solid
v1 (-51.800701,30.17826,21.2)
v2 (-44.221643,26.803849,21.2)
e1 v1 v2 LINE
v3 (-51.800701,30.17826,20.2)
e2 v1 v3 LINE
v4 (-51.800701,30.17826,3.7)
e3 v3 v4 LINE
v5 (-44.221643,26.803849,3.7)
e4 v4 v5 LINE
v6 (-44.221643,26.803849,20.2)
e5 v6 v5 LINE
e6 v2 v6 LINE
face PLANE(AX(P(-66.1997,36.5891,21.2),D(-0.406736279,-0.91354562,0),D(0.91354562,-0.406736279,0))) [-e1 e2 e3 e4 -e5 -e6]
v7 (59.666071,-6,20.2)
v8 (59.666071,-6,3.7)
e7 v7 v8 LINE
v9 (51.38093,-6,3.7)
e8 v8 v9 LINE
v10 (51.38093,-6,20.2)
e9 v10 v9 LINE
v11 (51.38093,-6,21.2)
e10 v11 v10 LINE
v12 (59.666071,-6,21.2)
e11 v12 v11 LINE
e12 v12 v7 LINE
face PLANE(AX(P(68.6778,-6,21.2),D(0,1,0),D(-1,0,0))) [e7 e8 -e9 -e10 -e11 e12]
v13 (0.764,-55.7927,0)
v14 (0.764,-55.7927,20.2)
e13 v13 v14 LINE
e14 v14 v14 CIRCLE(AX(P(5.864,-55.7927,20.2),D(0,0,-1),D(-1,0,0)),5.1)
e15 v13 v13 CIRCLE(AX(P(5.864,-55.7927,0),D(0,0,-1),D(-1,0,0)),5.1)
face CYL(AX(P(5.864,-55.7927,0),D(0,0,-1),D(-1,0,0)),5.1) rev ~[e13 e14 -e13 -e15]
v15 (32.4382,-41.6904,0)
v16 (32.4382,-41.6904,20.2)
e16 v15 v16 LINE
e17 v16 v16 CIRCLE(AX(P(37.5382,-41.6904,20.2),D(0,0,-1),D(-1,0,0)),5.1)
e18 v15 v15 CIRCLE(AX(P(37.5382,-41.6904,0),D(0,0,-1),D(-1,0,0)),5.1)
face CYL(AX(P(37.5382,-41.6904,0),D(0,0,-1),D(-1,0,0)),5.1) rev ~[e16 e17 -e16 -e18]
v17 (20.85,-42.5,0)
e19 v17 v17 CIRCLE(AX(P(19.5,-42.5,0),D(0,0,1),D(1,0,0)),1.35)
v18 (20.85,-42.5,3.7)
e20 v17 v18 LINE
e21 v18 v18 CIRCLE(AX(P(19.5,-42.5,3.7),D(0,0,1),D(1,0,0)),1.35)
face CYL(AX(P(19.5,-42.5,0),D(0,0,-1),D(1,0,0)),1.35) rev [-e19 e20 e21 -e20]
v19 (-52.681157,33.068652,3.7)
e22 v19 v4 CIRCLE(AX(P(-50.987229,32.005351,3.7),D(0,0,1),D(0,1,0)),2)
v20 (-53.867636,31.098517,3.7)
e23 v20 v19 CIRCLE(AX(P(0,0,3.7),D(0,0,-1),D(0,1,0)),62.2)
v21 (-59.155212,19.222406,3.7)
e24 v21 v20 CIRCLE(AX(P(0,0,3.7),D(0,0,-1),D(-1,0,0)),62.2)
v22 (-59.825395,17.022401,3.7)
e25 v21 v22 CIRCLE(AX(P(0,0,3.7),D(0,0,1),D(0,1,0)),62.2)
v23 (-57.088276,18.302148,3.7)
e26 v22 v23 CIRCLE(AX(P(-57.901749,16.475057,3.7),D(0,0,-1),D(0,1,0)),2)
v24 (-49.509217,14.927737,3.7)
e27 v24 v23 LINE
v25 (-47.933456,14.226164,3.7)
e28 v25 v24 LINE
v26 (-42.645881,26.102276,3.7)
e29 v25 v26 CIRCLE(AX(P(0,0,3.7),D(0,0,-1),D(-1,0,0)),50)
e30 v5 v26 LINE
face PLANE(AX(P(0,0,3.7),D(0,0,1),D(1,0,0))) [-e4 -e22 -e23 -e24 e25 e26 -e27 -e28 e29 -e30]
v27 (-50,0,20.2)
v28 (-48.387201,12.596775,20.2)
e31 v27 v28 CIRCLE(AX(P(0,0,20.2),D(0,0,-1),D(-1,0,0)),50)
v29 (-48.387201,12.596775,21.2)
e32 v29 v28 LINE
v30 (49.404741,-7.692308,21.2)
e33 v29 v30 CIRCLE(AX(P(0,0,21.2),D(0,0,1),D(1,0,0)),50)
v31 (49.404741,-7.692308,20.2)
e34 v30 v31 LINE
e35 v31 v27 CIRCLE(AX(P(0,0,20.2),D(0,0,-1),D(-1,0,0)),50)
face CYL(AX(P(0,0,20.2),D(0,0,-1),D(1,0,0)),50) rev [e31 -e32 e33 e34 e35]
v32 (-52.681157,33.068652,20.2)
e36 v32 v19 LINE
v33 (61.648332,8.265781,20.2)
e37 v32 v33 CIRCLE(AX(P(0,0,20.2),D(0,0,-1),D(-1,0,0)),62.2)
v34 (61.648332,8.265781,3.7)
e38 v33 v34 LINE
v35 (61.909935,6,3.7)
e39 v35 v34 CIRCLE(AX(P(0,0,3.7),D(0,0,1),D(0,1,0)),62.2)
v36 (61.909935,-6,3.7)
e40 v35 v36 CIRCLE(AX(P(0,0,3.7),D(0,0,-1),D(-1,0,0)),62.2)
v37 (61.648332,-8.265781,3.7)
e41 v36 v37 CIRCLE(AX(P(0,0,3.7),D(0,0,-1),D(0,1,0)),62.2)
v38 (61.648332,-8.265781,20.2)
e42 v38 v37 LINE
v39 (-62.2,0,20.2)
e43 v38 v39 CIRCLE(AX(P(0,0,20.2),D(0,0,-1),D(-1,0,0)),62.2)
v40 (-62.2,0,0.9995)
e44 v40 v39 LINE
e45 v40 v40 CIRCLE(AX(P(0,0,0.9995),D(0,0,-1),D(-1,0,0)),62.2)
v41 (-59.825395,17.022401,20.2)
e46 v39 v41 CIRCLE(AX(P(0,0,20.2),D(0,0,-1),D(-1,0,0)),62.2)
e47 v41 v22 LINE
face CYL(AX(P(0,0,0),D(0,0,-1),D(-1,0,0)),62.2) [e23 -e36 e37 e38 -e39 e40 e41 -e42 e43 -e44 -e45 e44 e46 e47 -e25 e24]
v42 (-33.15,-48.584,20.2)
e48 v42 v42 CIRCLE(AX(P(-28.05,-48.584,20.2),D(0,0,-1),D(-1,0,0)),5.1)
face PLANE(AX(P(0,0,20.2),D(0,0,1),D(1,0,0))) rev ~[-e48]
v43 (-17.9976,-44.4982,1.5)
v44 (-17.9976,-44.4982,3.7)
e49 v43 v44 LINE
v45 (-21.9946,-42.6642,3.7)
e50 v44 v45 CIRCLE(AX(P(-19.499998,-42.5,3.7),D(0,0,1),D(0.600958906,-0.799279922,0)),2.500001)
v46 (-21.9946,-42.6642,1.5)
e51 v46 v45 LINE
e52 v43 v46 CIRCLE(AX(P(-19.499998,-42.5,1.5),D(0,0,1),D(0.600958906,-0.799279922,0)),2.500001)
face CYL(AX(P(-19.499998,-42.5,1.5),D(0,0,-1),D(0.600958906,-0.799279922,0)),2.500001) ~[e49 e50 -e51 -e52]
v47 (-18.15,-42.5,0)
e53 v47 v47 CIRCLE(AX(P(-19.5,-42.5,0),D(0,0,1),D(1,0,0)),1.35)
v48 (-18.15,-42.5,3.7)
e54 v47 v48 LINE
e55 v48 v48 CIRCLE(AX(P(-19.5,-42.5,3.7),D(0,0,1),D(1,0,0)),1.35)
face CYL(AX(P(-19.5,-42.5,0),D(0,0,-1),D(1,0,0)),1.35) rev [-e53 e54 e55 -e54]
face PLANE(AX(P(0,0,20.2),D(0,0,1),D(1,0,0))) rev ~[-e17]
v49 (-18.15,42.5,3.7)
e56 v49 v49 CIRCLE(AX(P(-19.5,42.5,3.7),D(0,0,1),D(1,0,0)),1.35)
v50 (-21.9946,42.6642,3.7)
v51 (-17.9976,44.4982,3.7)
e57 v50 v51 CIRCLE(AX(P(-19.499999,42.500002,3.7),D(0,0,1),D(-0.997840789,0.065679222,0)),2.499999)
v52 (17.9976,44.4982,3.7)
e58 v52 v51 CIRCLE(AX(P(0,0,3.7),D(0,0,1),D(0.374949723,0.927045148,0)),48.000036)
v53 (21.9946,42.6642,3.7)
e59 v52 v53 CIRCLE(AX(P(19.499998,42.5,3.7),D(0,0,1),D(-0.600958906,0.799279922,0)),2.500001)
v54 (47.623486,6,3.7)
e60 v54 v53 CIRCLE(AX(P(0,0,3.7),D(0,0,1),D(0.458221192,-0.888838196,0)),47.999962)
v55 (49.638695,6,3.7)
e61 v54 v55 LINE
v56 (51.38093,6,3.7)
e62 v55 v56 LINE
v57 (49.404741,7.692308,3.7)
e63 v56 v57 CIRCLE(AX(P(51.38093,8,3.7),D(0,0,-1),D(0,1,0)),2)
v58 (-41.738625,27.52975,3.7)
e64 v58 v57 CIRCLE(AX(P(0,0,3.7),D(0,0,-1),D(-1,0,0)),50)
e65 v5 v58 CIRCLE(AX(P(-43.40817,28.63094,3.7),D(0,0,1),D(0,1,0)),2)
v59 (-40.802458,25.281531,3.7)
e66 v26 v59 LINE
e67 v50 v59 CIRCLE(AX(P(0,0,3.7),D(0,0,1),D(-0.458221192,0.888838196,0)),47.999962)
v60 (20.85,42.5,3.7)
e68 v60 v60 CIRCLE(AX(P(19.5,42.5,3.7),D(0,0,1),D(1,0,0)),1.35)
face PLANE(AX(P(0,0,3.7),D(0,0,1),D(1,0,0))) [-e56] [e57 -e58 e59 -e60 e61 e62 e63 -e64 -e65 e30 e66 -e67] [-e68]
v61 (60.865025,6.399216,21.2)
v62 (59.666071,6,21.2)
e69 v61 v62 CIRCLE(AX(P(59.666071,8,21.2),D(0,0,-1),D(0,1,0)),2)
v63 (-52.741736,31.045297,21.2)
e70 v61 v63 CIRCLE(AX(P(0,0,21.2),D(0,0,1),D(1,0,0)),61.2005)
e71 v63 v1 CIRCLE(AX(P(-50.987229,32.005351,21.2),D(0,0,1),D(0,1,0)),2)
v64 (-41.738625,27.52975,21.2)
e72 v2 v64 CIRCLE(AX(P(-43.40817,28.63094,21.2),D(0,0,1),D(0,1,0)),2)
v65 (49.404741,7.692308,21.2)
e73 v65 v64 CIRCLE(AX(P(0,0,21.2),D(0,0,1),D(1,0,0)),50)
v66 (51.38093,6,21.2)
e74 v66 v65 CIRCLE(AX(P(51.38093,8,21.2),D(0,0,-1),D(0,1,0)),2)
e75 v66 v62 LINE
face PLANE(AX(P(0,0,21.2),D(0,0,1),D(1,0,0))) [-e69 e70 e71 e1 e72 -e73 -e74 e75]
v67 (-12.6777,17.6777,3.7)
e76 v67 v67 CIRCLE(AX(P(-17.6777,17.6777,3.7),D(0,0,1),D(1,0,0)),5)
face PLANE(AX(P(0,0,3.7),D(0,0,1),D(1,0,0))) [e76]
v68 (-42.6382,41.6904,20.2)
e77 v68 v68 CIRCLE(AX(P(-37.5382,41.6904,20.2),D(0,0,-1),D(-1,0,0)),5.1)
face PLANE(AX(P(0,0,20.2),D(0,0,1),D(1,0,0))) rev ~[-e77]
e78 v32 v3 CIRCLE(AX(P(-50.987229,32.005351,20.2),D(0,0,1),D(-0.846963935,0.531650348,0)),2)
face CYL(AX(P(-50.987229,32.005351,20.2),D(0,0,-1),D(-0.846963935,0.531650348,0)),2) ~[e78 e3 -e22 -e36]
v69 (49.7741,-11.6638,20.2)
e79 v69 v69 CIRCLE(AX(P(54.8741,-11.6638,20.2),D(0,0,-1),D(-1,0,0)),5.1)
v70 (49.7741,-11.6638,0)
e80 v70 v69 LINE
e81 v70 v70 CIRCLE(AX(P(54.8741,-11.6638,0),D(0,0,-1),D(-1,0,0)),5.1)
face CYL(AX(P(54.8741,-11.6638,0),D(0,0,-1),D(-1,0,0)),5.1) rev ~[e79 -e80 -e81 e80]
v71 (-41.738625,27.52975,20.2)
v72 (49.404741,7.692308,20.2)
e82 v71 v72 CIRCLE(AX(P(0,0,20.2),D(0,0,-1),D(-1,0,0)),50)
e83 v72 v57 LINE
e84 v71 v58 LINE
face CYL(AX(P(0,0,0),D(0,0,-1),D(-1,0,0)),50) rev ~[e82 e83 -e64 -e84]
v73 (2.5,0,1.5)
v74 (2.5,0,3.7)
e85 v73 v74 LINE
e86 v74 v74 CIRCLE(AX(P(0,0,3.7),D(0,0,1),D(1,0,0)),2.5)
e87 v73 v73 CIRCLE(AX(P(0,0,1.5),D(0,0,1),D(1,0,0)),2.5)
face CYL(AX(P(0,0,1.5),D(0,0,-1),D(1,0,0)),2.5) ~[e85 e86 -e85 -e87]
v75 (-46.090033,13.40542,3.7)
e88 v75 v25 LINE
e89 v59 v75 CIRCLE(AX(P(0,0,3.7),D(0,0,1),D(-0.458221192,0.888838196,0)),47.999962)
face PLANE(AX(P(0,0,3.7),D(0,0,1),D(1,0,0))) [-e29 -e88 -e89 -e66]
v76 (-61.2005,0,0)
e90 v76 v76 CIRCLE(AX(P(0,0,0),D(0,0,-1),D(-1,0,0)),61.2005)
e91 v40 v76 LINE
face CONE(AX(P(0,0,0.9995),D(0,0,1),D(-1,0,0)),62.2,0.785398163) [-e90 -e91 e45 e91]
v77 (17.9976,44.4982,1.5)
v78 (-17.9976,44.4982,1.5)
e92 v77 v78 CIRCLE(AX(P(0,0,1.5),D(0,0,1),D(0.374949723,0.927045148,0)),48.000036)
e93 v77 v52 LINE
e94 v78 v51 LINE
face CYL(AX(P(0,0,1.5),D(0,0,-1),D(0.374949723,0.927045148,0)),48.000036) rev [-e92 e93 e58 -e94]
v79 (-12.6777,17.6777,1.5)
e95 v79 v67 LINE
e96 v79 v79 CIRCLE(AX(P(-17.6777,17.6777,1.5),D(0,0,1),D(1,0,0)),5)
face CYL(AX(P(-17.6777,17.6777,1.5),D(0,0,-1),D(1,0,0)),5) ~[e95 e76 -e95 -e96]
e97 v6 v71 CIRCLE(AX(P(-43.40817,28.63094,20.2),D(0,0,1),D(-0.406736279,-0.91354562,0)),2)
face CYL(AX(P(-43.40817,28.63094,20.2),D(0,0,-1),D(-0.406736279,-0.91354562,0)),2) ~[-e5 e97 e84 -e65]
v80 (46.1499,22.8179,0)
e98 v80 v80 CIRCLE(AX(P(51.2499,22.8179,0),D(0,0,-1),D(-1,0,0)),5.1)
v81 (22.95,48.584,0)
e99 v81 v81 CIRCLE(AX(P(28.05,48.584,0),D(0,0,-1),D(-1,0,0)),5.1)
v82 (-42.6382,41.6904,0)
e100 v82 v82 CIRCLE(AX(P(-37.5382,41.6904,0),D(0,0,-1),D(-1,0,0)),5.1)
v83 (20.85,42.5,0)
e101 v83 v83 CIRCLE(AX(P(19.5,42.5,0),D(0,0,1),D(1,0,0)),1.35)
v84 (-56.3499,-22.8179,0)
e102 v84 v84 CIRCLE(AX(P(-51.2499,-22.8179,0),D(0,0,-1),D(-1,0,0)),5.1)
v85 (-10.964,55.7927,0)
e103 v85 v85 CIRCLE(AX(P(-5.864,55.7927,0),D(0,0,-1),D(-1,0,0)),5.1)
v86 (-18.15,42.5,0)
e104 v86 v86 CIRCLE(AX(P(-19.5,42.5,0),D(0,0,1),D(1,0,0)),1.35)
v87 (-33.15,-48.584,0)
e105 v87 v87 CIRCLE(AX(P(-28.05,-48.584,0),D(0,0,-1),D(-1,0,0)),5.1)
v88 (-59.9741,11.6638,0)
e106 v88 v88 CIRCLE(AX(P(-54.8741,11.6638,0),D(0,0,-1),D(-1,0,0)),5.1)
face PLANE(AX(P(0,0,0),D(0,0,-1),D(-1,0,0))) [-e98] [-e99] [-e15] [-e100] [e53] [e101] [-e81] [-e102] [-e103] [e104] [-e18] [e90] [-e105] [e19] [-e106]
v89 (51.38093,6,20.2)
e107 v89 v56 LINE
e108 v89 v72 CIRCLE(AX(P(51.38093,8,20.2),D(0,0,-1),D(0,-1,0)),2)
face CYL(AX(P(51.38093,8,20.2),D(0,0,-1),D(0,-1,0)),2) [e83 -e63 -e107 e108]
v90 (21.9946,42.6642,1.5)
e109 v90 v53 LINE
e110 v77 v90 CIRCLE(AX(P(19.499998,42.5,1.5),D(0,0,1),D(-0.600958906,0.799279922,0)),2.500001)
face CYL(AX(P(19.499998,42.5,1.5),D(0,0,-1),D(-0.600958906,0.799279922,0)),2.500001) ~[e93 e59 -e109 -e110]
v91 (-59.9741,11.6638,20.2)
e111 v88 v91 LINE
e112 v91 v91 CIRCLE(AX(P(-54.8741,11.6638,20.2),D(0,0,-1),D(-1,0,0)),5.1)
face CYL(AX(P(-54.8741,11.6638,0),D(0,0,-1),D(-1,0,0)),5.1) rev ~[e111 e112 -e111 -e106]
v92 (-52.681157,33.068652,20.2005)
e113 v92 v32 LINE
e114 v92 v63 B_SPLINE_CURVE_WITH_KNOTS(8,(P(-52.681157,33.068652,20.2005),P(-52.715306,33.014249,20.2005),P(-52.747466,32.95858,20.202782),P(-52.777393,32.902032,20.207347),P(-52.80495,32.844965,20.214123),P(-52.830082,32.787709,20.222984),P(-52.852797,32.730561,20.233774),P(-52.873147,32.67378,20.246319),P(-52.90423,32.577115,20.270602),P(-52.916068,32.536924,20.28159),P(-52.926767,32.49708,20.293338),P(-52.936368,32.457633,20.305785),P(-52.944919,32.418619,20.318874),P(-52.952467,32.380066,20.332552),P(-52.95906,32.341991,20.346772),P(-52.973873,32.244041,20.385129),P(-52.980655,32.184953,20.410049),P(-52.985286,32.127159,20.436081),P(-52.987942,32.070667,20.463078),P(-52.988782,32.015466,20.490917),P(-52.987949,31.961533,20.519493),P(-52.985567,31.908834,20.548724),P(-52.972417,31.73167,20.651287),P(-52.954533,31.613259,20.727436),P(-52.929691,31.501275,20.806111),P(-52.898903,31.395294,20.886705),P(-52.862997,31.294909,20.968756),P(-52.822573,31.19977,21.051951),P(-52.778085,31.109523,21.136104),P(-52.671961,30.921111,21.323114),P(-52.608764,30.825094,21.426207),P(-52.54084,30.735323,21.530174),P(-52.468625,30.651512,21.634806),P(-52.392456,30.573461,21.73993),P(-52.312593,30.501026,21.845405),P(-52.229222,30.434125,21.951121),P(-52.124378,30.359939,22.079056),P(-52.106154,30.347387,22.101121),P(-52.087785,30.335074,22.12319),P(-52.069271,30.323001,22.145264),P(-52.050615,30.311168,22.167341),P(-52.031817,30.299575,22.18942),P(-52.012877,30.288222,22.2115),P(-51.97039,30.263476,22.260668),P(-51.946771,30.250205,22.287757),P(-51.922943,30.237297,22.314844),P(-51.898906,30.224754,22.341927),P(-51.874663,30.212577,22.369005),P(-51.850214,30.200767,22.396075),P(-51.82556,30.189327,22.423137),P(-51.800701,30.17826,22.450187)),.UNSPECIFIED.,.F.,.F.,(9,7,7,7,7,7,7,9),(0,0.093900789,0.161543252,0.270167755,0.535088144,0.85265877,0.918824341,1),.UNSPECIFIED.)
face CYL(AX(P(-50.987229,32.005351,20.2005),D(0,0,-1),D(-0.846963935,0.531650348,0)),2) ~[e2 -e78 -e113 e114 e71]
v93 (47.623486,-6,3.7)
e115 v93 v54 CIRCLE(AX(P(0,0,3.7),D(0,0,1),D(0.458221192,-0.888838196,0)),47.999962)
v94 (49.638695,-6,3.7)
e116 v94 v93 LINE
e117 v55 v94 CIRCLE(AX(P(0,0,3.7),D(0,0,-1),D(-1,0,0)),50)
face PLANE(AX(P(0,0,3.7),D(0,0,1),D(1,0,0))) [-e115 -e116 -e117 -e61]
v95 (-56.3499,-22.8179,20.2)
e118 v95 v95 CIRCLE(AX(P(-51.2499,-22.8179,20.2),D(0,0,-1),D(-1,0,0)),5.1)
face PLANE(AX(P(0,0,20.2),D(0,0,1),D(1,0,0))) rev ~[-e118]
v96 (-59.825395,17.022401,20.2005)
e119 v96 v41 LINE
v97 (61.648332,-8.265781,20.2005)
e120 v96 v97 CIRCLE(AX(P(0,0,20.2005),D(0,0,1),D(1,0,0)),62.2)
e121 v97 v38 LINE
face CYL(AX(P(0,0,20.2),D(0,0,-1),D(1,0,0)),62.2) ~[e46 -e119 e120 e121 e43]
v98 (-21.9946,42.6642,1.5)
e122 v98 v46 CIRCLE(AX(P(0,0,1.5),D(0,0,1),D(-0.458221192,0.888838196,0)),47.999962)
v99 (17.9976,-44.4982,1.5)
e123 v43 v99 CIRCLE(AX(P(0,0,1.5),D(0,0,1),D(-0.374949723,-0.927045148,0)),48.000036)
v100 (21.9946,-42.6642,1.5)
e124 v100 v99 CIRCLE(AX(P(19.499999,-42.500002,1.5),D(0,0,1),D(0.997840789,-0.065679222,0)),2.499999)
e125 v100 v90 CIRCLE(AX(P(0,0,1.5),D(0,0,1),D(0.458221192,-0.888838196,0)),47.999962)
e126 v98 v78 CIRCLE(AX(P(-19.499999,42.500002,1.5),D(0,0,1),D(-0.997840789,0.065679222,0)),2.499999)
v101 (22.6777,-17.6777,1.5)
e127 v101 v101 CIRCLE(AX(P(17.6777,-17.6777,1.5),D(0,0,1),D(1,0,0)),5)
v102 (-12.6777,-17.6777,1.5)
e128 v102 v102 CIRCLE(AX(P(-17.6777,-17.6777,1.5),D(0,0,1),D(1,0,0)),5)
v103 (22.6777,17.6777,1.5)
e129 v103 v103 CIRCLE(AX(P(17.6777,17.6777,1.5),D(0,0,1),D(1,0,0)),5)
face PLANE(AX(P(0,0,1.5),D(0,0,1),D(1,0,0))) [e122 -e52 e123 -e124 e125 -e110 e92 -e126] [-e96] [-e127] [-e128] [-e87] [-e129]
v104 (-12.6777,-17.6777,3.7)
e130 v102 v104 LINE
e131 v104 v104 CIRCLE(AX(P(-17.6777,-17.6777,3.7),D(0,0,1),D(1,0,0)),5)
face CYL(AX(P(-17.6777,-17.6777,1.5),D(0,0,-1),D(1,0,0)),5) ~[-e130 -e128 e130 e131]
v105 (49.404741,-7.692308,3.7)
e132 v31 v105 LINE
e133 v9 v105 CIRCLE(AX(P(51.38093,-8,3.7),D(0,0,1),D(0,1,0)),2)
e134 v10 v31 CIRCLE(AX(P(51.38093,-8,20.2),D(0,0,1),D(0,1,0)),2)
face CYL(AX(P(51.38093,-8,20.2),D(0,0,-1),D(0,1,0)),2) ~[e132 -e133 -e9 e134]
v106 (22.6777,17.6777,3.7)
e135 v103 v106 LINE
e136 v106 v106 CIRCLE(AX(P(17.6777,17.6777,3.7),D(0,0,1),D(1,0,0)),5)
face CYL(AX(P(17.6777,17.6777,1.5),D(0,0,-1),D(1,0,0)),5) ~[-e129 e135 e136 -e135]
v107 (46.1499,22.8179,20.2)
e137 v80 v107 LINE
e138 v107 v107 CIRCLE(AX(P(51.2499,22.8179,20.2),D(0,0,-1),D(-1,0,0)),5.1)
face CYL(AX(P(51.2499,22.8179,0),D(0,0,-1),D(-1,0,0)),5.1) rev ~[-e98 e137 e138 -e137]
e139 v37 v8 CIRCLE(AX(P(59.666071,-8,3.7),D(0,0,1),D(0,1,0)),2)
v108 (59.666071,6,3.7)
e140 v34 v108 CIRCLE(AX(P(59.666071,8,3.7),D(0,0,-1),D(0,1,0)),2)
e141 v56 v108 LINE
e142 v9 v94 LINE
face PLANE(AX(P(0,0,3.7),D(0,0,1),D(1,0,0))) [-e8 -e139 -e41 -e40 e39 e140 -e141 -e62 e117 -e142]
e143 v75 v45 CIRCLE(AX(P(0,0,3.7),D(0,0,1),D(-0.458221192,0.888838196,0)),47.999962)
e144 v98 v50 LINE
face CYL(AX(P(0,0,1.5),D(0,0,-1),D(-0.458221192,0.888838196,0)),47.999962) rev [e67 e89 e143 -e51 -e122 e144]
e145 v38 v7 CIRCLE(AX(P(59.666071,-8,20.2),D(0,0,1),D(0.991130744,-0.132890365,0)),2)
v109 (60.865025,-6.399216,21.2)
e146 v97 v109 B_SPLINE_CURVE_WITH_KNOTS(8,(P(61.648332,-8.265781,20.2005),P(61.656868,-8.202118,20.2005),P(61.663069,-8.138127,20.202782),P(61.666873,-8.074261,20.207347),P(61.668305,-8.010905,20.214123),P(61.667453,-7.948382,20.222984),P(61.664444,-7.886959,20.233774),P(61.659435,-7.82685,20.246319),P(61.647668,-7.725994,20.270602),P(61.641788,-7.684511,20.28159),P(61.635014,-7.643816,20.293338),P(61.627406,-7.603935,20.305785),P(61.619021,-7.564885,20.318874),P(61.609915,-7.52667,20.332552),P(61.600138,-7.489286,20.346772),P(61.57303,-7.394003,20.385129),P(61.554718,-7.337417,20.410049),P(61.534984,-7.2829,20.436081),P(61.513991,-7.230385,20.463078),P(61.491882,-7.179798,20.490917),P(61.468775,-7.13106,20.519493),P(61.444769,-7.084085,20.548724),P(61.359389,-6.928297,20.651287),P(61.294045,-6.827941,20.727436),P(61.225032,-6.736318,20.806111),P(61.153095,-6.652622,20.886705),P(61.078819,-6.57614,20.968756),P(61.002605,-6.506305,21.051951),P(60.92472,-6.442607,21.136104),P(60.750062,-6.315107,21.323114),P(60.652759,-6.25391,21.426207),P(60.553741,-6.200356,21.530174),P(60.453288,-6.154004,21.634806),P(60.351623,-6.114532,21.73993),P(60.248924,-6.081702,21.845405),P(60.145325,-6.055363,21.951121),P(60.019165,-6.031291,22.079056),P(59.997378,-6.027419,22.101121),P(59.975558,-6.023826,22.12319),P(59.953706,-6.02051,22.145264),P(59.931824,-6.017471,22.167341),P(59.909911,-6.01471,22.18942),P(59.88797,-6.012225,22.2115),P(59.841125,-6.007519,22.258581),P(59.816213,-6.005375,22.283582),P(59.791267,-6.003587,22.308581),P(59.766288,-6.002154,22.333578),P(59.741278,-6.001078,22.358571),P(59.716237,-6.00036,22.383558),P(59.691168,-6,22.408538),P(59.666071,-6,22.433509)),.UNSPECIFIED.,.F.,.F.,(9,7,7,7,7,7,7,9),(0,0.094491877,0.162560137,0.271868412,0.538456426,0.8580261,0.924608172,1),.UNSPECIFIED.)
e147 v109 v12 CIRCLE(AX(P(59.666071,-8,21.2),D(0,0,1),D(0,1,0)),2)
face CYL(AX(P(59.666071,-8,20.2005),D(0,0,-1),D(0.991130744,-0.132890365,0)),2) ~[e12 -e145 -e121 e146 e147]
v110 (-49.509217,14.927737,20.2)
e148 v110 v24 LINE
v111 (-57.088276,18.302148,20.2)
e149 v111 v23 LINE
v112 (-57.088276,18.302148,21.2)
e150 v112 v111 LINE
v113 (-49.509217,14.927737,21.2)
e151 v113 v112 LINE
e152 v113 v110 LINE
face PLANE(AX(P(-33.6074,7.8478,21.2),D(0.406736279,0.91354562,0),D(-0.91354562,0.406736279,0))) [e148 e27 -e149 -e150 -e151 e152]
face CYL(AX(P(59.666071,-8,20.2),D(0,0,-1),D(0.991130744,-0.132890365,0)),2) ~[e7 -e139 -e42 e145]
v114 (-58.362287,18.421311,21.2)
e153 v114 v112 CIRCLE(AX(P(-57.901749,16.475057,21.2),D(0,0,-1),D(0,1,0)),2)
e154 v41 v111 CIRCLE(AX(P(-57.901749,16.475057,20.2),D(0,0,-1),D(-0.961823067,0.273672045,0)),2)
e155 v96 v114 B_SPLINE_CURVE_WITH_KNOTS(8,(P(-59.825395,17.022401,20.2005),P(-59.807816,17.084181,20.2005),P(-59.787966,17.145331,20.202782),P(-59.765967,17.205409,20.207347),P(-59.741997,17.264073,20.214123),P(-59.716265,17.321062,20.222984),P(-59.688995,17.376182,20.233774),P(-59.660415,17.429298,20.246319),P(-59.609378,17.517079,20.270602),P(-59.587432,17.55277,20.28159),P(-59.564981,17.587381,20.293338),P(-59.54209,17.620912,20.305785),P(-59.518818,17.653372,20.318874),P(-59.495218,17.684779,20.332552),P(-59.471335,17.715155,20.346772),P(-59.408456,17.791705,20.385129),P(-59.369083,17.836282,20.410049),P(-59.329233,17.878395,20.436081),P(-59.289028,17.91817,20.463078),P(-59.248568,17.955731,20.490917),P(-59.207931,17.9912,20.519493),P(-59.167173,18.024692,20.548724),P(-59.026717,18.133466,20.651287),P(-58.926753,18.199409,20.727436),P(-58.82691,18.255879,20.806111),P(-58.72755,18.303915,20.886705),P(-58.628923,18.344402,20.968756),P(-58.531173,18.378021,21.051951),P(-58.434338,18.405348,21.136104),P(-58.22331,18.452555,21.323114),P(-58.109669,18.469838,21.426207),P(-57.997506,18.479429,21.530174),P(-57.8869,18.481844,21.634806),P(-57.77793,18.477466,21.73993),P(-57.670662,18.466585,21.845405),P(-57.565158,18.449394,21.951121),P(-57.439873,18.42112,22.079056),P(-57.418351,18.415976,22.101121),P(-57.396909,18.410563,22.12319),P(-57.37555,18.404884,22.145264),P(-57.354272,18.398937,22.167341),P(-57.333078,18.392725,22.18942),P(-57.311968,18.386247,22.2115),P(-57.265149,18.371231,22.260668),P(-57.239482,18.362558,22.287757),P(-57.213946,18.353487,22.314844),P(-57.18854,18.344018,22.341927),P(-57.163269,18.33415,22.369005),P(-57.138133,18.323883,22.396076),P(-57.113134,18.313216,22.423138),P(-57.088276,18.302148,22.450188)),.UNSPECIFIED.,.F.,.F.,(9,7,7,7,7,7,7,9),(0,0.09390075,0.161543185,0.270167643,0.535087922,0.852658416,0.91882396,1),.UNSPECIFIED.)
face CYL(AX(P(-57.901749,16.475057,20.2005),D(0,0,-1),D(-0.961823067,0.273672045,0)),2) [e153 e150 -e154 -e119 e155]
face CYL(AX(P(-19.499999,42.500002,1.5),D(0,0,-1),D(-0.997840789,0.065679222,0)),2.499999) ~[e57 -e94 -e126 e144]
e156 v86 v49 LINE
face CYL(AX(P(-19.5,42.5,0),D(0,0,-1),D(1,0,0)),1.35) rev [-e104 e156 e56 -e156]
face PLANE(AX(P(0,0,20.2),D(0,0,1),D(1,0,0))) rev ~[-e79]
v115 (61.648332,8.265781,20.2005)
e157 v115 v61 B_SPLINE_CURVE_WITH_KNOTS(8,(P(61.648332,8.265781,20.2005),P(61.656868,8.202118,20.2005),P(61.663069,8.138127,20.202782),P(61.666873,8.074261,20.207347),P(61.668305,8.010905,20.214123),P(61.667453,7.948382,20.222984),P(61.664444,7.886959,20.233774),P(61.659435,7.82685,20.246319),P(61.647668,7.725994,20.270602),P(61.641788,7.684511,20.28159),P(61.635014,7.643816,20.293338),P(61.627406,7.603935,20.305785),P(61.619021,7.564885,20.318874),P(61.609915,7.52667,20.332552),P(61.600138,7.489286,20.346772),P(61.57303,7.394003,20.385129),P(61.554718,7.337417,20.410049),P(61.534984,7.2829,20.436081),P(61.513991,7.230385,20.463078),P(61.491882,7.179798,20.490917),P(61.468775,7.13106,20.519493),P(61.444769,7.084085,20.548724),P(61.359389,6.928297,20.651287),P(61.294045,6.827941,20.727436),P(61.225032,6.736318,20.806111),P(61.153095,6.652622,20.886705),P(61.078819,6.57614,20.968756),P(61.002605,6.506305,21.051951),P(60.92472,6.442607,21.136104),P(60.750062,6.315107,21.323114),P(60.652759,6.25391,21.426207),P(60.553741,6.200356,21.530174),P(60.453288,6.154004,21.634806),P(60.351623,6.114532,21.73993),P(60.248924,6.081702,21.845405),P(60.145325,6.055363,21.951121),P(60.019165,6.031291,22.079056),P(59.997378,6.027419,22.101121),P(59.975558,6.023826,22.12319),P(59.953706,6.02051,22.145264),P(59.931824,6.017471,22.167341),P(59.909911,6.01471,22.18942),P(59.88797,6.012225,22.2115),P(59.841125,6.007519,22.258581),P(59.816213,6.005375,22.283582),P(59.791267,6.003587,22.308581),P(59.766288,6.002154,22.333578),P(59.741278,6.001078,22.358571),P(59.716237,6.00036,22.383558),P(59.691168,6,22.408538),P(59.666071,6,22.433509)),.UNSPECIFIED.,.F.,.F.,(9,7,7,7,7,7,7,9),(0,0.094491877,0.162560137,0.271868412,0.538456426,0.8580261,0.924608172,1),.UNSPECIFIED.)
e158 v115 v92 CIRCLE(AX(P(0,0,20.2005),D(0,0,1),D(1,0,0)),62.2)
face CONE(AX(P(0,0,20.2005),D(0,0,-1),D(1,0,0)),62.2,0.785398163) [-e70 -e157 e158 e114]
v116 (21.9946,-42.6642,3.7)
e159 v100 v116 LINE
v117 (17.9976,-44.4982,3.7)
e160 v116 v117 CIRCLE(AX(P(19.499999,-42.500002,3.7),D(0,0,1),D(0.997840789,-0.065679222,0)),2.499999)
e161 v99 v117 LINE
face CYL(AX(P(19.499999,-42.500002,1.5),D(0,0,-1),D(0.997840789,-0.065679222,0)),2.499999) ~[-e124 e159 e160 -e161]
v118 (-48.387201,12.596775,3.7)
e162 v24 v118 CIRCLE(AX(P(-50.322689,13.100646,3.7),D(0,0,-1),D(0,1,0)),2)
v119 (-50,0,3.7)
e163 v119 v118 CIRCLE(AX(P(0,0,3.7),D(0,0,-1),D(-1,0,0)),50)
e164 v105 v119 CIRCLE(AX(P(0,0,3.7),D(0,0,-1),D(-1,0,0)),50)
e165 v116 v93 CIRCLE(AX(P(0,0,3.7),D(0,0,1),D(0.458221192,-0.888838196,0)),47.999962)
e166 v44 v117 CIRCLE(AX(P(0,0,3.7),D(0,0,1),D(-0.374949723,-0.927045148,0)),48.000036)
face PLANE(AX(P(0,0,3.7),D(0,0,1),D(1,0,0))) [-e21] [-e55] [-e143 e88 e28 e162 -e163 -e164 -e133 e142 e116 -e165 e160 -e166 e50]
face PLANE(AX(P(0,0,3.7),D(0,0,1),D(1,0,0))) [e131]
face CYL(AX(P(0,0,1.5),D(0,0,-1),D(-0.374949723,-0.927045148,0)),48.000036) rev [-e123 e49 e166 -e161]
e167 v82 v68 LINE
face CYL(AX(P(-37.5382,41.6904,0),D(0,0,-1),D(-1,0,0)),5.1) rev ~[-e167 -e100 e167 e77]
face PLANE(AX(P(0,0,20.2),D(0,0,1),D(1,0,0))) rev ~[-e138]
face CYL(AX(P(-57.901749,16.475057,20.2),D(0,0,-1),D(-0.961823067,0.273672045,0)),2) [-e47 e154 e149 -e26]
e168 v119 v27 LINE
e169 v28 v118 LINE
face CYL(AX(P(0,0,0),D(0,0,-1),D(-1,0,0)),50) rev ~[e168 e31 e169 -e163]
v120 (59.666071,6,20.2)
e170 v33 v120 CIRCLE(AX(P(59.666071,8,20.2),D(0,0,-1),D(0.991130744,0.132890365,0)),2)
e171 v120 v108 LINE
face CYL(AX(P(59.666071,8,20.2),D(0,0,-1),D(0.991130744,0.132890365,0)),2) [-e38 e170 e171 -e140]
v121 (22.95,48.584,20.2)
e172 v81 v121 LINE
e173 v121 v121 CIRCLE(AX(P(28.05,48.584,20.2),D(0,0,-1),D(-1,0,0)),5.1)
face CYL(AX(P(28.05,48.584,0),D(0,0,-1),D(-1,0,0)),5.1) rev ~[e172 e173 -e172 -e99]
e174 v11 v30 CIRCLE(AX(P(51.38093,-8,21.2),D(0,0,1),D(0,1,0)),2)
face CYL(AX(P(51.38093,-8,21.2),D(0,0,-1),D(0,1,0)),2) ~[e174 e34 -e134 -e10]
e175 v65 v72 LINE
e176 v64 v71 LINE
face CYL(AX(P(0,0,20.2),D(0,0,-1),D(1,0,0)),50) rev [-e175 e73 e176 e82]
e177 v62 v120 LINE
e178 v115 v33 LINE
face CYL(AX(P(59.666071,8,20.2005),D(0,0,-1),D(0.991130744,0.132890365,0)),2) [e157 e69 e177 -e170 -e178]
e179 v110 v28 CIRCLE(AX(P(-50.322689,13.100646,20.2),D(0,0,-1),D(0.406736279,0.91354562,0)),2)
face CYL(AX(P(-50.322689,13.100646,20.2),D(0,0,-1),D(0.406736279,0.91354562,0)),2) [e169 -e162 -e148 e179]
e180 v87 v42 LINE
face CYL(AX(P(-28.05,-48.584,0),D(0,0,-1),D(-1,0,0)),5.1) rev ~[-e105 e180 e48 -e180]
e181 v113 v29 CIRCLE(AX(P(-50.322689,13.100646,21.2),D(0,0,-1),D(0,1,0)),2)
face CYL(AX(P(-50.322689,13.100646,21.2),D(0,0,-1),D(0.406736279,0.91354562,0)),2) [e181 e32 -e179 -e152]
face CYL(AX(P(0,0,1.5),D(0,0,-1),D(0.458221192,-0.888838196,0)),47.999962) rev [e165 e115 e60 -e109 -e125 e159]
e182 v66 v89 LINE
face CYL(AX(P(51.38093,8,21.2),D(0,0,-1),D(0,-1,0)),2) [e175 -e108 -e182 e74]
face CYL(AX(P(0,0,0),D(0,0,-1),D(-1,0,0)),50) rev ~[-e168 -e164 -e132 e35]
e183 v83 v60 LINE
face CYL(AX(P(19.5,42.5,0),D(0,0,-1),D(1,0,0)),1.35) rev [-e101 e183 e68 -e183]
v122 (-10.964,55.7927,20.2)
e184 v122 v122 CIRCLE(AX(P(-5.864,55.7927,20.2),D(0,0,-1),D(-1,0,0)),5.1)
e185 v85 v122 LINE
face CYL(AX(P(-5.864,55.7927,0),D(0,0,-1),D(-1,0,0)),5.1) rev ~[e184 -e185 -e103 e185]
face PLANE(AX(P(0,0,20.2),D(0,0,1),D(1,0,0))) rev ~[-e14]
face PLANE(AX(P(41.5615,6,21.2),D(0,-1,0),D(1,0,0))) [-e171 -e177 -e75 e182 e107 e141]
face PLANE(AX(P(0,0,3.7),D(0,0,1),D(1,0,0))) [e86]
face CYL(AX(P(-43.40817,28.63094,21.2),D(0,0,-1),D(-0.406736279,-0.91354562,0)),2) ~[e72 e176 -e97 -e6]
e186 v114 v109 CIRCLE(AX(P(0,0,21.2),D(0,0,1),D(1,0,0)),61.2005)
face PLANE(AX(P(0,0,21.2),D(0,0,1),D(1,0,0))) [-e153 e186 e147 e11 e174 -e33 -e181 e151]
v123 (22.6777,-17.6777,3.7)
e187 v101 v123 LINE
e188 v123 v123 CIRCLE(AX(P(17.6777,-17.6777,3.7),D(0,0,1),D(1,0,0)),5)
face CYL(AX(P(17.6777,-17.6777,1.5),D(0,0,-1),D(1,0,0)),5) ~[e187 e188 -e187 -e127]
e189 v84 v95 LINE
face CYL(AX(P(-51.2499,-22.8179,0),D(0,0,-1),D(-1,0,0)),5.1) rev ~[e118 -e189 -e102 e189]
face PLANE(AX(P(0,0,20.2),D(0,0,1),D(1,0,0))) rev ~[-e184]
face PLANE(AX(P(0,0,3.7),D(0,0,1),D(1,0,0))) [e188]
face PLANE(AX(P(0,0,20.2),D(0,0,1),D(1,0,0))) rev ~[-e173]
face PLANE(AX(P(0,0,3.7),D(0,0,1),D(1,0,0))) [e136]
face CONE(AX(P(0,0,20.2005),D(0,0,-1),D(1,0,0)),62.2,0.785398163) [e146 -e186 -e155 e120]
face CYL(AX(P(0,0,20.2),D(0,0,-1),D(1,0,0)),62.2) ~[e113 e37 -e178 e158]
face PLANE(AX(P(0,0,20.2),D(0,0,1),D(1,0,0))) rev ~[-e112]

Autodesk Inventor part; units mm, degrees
ref_plane "YZ Plane" through (0, 0, 0) normal (1, 0, 0) x (0, 1, 0)
ref_plane "XZ Plane" through (0, 0, 0) normal (0, 1, 0) x (-1, 0, 0)
ref_plane "XY Plane" through (0, 0, 0) normal (0, 0, 1) x (1, 0, 0)
sketch "Sketch1" plane through (0, 0, 0) normal (0, 0, 1) x (1, 0, 0)
  circle A0 centre (0, 0) radius 50
  line L0 (-19.5, -42.5) -> (19.5, -42.5) construction
  line L1 (19.5, -42.5) -> (19.5, 42.5) construction
  line L2 (19.5, 42.5) -> (-19.5, 42.5) construction
  line L3 (-19.5, 42.5) -> (-19.5, -42.5) construction
  line L4 (-19.5, -42.5) -> (19.5, 42.5) construction
  line L5 (19.5, -42.5) -> (-19.5, 42.5) construction
  circle A1 centre (-19.5, 42.5) radius 1.35
  circle A2 centre (19.5, 42.5) radius 1.35
  circle A3 centre (19.5, -42.5) radius 1.35
  circle A4 centre (-19.5, -42.5) radius 1.35
  dimension "d0" = 39
  dimension "d1" = 85
  dimension "d2" = 100
  dimension "d3" = 2.7
extrude "Extrusion1" add sketch "Sketch1" along normal blind 1.5
sketch "Sketch2" plane through (0, 0, 1.5) normal (0, 0, 1) x (1, 0, 0)
  circle A0 centre (0, 0) radius 50 projected
  circle A1 centre (-19.5, 42.5) radius 1.35 projected
  arc A2 (-21.9946, 42.6642) -> (-17.9976, 44.4982) centre (-19.5, 42.5) ccw
  circle A3 centre (19.5, 42.5) radius 1.35 projected
  arc A4 (17.9976, 44.4982) -> (21.9946, 42.6642) centre (19.5, 42.5) ccw
  circle A5 centre (19.5, -42.5) radius 1.35 projected
  arc A6 (21.9946, -42.6642) -> (17.9976, -44.4982) centre (19.5, -42.5) ccw
  circle A7 centre (-19.5, -42.5) radius 1.35 projected
  arc A8 (-17.9976, -44.4982) -> (-21.9946, -42.6642) centre (-19.5, -42.5) ccw
  circle A9 centre (0, 0) radius 2.5
  circle A10 centre (-17.6777, 17.6777) radius 5
  line L0 (0, 0) -> (-17.6777, 17.6777) construction
  line L1 (0, 0) -> (-23.8881, 0) construction
  circle A11 centre (-17.6777, -17.6777) radius 5
  circle A12 centre (17.6777, -17.6777) radius 5
  circle A13 centre (17.6777, 17.6777) radius 5
  arc A14 (-17.9976, -44.4982) -> (17.9976, -44.4982) centre (0, 0) ccw
  arc A15 (-21.9946, 42.6642) -> (-21.9946, -42.6642) centre (0, 0) ccw
  arc A16 (21.9946, -42.6642) -> (21.9946, 42.6642) centre (0, 0) ccw
  arc A17 (17.9976, 44.4982) -> (-17.9976, 44.4982) centre (0, 0) ccw
  dimension "d6" = 5
  dimension "d8" = 5
  dimension "d9" = 10
  dimension "d10" = 25
  dimension "d11" = 45
  dimension "d14" = 360
  dimension "d16" = 2
extrude "Extrusion2" add sketch "Sketch2" along normal blind 2.2
sketch "Sketch3" plane through (0, 0, 0) normal (0, 0, -1) x (-1, 0, 0)
  circle A0 centre (0, 0) radius 2.5 construction
  line L0 (0, 0) -> (54.8741, 11.6638) construction
  circle A1 centre (54.8741, 11.6638) radius 5.1
  circle A2 centre (54.8741, 11.6638) radius 6.1 construction
  circle A3 centre (0, 0) radius 50 projected
  circle A4 centre (0, 0) radius 50 projected
  circle A5 centre (0, 0) radius 62.2
  circle A6 centre (37.5382, 41.6904) radius 5.1
  circle A7 centre (5.864, 55.7927) radius 5.1
  circle A8 centre (-28.05, 48.584) radius 5.1
  circle A9 centre (-51.2499, 22.8179) radius 5.1
  circle A10 centre (-54.8741, -11.6638) radius 5.1
  circle A11 centre (-37.5382, -41.6904) radius 5.1
  circle A12 centre (-5.864, -55.7927) radius 5.1
  circle A13 centre (28.05, -48.584) radius 5.1
  circle A14 centre (51.2499, -22.8179) radius 5.1
  line L1 (0, 0) -> (50, 0) construction
  point P0 (48.9074, 10.3956)
  dimension "d22" = 10.2
  dimension "d23" = 1
  dimension "d26" = 360
  dimension "d35" = 12
extrude "Extrusion3" add sketch "Sketch3" against normal blind 20.2
sketch "Sketch5" plane through (0, 0, 20.2) normal (0, 0, 1) x (1, 0, 0)
  circle A0 centre (0, 0) radius 62.2 projected
  circle A1 centre (0, 0) radius 50 projected
extrude "Extrusion5" add sketch "Sketch5" along normal blind 1
chamfer "Chamfer1" distance 1 angle 45 2 edges at (62.2, 0, 0) (-62.2, 0, 21.2)
sketch "Sketch6" plane through (0, 0, 21.2) normal (0, 0, 1) x (1, 0, 0)
  line L0 (68.6778, -6) -> (41.5615, -6)
  line L1 (41.5615, -6) -> (41.5615, 6)
  line L2 (41.5615, 6) -> (68.6778, 6)
  line L3 (68.6778, 6) -> (68.6778, -6)
  line L4 (68.6778, -6) -> (41.5615, 6) construction
  line L5 (41.5615, -6) -> (68.6778, 6) construction
  circle A0 centre (0, 0) radius 2.5 projected
  line L6 (55.1196, 0) -> (0, 0) construction
  line L7 (-33.6074, 7.8478) -> (-71.4873, 24.713)
  line L8 (-71.4873, 24.713) -> (-66.1997, 36.5891)
  line L9 (-66.1997, 36.5891) -> (-28.3198, 19.7239)
  line L10 (-28.3198, 19.7239) -> (-33.6074, 7.8478)
  line L11 (-33.6074, 7.8478) -> (-66.1997, 36.5891) construction
  line L12 (-71.4873, 24.713) -> (-28.3198, 19.7239) construction
  line L13 (-49.9035, 22.2185) -> (0, 0) construction
  dimension "d36" = 12
  dimension "d37" = 13
  dimension "d38" = 156
extrude "Extrusion6" cut sketch "Sketch6" against normal up to surface (17.5 mm away) contours L0 L1 L2 L3 | L7 L8 L9 L10
fillet "Fillet1" radius 2 16 edges at (49.6387, -6, 11.95) (49.6387, -6, 20.7) (49.6387, 6, 20.7) (49.6387, 6, 11.95) (61.9099, -6, 20.2002) (61.9099, -6, 11.95) (61.9099, 6, 11.95) (61.9099, 6, 20.2002) (-59.1552, 19.2225, 20.2002) (-59.1552, 19.2225, 11.95) (-53.8676, 31.0985, 11.95) (-53.8676, 31.0985, 20.2002) (-42.6459, 26.1023, 11.95) (-42.6459, 26.1023, 20.7) (-47.9334, 14.2262, 20.7) (-47.9334, 14.2262, 11.95)
properties part number "Shield"
